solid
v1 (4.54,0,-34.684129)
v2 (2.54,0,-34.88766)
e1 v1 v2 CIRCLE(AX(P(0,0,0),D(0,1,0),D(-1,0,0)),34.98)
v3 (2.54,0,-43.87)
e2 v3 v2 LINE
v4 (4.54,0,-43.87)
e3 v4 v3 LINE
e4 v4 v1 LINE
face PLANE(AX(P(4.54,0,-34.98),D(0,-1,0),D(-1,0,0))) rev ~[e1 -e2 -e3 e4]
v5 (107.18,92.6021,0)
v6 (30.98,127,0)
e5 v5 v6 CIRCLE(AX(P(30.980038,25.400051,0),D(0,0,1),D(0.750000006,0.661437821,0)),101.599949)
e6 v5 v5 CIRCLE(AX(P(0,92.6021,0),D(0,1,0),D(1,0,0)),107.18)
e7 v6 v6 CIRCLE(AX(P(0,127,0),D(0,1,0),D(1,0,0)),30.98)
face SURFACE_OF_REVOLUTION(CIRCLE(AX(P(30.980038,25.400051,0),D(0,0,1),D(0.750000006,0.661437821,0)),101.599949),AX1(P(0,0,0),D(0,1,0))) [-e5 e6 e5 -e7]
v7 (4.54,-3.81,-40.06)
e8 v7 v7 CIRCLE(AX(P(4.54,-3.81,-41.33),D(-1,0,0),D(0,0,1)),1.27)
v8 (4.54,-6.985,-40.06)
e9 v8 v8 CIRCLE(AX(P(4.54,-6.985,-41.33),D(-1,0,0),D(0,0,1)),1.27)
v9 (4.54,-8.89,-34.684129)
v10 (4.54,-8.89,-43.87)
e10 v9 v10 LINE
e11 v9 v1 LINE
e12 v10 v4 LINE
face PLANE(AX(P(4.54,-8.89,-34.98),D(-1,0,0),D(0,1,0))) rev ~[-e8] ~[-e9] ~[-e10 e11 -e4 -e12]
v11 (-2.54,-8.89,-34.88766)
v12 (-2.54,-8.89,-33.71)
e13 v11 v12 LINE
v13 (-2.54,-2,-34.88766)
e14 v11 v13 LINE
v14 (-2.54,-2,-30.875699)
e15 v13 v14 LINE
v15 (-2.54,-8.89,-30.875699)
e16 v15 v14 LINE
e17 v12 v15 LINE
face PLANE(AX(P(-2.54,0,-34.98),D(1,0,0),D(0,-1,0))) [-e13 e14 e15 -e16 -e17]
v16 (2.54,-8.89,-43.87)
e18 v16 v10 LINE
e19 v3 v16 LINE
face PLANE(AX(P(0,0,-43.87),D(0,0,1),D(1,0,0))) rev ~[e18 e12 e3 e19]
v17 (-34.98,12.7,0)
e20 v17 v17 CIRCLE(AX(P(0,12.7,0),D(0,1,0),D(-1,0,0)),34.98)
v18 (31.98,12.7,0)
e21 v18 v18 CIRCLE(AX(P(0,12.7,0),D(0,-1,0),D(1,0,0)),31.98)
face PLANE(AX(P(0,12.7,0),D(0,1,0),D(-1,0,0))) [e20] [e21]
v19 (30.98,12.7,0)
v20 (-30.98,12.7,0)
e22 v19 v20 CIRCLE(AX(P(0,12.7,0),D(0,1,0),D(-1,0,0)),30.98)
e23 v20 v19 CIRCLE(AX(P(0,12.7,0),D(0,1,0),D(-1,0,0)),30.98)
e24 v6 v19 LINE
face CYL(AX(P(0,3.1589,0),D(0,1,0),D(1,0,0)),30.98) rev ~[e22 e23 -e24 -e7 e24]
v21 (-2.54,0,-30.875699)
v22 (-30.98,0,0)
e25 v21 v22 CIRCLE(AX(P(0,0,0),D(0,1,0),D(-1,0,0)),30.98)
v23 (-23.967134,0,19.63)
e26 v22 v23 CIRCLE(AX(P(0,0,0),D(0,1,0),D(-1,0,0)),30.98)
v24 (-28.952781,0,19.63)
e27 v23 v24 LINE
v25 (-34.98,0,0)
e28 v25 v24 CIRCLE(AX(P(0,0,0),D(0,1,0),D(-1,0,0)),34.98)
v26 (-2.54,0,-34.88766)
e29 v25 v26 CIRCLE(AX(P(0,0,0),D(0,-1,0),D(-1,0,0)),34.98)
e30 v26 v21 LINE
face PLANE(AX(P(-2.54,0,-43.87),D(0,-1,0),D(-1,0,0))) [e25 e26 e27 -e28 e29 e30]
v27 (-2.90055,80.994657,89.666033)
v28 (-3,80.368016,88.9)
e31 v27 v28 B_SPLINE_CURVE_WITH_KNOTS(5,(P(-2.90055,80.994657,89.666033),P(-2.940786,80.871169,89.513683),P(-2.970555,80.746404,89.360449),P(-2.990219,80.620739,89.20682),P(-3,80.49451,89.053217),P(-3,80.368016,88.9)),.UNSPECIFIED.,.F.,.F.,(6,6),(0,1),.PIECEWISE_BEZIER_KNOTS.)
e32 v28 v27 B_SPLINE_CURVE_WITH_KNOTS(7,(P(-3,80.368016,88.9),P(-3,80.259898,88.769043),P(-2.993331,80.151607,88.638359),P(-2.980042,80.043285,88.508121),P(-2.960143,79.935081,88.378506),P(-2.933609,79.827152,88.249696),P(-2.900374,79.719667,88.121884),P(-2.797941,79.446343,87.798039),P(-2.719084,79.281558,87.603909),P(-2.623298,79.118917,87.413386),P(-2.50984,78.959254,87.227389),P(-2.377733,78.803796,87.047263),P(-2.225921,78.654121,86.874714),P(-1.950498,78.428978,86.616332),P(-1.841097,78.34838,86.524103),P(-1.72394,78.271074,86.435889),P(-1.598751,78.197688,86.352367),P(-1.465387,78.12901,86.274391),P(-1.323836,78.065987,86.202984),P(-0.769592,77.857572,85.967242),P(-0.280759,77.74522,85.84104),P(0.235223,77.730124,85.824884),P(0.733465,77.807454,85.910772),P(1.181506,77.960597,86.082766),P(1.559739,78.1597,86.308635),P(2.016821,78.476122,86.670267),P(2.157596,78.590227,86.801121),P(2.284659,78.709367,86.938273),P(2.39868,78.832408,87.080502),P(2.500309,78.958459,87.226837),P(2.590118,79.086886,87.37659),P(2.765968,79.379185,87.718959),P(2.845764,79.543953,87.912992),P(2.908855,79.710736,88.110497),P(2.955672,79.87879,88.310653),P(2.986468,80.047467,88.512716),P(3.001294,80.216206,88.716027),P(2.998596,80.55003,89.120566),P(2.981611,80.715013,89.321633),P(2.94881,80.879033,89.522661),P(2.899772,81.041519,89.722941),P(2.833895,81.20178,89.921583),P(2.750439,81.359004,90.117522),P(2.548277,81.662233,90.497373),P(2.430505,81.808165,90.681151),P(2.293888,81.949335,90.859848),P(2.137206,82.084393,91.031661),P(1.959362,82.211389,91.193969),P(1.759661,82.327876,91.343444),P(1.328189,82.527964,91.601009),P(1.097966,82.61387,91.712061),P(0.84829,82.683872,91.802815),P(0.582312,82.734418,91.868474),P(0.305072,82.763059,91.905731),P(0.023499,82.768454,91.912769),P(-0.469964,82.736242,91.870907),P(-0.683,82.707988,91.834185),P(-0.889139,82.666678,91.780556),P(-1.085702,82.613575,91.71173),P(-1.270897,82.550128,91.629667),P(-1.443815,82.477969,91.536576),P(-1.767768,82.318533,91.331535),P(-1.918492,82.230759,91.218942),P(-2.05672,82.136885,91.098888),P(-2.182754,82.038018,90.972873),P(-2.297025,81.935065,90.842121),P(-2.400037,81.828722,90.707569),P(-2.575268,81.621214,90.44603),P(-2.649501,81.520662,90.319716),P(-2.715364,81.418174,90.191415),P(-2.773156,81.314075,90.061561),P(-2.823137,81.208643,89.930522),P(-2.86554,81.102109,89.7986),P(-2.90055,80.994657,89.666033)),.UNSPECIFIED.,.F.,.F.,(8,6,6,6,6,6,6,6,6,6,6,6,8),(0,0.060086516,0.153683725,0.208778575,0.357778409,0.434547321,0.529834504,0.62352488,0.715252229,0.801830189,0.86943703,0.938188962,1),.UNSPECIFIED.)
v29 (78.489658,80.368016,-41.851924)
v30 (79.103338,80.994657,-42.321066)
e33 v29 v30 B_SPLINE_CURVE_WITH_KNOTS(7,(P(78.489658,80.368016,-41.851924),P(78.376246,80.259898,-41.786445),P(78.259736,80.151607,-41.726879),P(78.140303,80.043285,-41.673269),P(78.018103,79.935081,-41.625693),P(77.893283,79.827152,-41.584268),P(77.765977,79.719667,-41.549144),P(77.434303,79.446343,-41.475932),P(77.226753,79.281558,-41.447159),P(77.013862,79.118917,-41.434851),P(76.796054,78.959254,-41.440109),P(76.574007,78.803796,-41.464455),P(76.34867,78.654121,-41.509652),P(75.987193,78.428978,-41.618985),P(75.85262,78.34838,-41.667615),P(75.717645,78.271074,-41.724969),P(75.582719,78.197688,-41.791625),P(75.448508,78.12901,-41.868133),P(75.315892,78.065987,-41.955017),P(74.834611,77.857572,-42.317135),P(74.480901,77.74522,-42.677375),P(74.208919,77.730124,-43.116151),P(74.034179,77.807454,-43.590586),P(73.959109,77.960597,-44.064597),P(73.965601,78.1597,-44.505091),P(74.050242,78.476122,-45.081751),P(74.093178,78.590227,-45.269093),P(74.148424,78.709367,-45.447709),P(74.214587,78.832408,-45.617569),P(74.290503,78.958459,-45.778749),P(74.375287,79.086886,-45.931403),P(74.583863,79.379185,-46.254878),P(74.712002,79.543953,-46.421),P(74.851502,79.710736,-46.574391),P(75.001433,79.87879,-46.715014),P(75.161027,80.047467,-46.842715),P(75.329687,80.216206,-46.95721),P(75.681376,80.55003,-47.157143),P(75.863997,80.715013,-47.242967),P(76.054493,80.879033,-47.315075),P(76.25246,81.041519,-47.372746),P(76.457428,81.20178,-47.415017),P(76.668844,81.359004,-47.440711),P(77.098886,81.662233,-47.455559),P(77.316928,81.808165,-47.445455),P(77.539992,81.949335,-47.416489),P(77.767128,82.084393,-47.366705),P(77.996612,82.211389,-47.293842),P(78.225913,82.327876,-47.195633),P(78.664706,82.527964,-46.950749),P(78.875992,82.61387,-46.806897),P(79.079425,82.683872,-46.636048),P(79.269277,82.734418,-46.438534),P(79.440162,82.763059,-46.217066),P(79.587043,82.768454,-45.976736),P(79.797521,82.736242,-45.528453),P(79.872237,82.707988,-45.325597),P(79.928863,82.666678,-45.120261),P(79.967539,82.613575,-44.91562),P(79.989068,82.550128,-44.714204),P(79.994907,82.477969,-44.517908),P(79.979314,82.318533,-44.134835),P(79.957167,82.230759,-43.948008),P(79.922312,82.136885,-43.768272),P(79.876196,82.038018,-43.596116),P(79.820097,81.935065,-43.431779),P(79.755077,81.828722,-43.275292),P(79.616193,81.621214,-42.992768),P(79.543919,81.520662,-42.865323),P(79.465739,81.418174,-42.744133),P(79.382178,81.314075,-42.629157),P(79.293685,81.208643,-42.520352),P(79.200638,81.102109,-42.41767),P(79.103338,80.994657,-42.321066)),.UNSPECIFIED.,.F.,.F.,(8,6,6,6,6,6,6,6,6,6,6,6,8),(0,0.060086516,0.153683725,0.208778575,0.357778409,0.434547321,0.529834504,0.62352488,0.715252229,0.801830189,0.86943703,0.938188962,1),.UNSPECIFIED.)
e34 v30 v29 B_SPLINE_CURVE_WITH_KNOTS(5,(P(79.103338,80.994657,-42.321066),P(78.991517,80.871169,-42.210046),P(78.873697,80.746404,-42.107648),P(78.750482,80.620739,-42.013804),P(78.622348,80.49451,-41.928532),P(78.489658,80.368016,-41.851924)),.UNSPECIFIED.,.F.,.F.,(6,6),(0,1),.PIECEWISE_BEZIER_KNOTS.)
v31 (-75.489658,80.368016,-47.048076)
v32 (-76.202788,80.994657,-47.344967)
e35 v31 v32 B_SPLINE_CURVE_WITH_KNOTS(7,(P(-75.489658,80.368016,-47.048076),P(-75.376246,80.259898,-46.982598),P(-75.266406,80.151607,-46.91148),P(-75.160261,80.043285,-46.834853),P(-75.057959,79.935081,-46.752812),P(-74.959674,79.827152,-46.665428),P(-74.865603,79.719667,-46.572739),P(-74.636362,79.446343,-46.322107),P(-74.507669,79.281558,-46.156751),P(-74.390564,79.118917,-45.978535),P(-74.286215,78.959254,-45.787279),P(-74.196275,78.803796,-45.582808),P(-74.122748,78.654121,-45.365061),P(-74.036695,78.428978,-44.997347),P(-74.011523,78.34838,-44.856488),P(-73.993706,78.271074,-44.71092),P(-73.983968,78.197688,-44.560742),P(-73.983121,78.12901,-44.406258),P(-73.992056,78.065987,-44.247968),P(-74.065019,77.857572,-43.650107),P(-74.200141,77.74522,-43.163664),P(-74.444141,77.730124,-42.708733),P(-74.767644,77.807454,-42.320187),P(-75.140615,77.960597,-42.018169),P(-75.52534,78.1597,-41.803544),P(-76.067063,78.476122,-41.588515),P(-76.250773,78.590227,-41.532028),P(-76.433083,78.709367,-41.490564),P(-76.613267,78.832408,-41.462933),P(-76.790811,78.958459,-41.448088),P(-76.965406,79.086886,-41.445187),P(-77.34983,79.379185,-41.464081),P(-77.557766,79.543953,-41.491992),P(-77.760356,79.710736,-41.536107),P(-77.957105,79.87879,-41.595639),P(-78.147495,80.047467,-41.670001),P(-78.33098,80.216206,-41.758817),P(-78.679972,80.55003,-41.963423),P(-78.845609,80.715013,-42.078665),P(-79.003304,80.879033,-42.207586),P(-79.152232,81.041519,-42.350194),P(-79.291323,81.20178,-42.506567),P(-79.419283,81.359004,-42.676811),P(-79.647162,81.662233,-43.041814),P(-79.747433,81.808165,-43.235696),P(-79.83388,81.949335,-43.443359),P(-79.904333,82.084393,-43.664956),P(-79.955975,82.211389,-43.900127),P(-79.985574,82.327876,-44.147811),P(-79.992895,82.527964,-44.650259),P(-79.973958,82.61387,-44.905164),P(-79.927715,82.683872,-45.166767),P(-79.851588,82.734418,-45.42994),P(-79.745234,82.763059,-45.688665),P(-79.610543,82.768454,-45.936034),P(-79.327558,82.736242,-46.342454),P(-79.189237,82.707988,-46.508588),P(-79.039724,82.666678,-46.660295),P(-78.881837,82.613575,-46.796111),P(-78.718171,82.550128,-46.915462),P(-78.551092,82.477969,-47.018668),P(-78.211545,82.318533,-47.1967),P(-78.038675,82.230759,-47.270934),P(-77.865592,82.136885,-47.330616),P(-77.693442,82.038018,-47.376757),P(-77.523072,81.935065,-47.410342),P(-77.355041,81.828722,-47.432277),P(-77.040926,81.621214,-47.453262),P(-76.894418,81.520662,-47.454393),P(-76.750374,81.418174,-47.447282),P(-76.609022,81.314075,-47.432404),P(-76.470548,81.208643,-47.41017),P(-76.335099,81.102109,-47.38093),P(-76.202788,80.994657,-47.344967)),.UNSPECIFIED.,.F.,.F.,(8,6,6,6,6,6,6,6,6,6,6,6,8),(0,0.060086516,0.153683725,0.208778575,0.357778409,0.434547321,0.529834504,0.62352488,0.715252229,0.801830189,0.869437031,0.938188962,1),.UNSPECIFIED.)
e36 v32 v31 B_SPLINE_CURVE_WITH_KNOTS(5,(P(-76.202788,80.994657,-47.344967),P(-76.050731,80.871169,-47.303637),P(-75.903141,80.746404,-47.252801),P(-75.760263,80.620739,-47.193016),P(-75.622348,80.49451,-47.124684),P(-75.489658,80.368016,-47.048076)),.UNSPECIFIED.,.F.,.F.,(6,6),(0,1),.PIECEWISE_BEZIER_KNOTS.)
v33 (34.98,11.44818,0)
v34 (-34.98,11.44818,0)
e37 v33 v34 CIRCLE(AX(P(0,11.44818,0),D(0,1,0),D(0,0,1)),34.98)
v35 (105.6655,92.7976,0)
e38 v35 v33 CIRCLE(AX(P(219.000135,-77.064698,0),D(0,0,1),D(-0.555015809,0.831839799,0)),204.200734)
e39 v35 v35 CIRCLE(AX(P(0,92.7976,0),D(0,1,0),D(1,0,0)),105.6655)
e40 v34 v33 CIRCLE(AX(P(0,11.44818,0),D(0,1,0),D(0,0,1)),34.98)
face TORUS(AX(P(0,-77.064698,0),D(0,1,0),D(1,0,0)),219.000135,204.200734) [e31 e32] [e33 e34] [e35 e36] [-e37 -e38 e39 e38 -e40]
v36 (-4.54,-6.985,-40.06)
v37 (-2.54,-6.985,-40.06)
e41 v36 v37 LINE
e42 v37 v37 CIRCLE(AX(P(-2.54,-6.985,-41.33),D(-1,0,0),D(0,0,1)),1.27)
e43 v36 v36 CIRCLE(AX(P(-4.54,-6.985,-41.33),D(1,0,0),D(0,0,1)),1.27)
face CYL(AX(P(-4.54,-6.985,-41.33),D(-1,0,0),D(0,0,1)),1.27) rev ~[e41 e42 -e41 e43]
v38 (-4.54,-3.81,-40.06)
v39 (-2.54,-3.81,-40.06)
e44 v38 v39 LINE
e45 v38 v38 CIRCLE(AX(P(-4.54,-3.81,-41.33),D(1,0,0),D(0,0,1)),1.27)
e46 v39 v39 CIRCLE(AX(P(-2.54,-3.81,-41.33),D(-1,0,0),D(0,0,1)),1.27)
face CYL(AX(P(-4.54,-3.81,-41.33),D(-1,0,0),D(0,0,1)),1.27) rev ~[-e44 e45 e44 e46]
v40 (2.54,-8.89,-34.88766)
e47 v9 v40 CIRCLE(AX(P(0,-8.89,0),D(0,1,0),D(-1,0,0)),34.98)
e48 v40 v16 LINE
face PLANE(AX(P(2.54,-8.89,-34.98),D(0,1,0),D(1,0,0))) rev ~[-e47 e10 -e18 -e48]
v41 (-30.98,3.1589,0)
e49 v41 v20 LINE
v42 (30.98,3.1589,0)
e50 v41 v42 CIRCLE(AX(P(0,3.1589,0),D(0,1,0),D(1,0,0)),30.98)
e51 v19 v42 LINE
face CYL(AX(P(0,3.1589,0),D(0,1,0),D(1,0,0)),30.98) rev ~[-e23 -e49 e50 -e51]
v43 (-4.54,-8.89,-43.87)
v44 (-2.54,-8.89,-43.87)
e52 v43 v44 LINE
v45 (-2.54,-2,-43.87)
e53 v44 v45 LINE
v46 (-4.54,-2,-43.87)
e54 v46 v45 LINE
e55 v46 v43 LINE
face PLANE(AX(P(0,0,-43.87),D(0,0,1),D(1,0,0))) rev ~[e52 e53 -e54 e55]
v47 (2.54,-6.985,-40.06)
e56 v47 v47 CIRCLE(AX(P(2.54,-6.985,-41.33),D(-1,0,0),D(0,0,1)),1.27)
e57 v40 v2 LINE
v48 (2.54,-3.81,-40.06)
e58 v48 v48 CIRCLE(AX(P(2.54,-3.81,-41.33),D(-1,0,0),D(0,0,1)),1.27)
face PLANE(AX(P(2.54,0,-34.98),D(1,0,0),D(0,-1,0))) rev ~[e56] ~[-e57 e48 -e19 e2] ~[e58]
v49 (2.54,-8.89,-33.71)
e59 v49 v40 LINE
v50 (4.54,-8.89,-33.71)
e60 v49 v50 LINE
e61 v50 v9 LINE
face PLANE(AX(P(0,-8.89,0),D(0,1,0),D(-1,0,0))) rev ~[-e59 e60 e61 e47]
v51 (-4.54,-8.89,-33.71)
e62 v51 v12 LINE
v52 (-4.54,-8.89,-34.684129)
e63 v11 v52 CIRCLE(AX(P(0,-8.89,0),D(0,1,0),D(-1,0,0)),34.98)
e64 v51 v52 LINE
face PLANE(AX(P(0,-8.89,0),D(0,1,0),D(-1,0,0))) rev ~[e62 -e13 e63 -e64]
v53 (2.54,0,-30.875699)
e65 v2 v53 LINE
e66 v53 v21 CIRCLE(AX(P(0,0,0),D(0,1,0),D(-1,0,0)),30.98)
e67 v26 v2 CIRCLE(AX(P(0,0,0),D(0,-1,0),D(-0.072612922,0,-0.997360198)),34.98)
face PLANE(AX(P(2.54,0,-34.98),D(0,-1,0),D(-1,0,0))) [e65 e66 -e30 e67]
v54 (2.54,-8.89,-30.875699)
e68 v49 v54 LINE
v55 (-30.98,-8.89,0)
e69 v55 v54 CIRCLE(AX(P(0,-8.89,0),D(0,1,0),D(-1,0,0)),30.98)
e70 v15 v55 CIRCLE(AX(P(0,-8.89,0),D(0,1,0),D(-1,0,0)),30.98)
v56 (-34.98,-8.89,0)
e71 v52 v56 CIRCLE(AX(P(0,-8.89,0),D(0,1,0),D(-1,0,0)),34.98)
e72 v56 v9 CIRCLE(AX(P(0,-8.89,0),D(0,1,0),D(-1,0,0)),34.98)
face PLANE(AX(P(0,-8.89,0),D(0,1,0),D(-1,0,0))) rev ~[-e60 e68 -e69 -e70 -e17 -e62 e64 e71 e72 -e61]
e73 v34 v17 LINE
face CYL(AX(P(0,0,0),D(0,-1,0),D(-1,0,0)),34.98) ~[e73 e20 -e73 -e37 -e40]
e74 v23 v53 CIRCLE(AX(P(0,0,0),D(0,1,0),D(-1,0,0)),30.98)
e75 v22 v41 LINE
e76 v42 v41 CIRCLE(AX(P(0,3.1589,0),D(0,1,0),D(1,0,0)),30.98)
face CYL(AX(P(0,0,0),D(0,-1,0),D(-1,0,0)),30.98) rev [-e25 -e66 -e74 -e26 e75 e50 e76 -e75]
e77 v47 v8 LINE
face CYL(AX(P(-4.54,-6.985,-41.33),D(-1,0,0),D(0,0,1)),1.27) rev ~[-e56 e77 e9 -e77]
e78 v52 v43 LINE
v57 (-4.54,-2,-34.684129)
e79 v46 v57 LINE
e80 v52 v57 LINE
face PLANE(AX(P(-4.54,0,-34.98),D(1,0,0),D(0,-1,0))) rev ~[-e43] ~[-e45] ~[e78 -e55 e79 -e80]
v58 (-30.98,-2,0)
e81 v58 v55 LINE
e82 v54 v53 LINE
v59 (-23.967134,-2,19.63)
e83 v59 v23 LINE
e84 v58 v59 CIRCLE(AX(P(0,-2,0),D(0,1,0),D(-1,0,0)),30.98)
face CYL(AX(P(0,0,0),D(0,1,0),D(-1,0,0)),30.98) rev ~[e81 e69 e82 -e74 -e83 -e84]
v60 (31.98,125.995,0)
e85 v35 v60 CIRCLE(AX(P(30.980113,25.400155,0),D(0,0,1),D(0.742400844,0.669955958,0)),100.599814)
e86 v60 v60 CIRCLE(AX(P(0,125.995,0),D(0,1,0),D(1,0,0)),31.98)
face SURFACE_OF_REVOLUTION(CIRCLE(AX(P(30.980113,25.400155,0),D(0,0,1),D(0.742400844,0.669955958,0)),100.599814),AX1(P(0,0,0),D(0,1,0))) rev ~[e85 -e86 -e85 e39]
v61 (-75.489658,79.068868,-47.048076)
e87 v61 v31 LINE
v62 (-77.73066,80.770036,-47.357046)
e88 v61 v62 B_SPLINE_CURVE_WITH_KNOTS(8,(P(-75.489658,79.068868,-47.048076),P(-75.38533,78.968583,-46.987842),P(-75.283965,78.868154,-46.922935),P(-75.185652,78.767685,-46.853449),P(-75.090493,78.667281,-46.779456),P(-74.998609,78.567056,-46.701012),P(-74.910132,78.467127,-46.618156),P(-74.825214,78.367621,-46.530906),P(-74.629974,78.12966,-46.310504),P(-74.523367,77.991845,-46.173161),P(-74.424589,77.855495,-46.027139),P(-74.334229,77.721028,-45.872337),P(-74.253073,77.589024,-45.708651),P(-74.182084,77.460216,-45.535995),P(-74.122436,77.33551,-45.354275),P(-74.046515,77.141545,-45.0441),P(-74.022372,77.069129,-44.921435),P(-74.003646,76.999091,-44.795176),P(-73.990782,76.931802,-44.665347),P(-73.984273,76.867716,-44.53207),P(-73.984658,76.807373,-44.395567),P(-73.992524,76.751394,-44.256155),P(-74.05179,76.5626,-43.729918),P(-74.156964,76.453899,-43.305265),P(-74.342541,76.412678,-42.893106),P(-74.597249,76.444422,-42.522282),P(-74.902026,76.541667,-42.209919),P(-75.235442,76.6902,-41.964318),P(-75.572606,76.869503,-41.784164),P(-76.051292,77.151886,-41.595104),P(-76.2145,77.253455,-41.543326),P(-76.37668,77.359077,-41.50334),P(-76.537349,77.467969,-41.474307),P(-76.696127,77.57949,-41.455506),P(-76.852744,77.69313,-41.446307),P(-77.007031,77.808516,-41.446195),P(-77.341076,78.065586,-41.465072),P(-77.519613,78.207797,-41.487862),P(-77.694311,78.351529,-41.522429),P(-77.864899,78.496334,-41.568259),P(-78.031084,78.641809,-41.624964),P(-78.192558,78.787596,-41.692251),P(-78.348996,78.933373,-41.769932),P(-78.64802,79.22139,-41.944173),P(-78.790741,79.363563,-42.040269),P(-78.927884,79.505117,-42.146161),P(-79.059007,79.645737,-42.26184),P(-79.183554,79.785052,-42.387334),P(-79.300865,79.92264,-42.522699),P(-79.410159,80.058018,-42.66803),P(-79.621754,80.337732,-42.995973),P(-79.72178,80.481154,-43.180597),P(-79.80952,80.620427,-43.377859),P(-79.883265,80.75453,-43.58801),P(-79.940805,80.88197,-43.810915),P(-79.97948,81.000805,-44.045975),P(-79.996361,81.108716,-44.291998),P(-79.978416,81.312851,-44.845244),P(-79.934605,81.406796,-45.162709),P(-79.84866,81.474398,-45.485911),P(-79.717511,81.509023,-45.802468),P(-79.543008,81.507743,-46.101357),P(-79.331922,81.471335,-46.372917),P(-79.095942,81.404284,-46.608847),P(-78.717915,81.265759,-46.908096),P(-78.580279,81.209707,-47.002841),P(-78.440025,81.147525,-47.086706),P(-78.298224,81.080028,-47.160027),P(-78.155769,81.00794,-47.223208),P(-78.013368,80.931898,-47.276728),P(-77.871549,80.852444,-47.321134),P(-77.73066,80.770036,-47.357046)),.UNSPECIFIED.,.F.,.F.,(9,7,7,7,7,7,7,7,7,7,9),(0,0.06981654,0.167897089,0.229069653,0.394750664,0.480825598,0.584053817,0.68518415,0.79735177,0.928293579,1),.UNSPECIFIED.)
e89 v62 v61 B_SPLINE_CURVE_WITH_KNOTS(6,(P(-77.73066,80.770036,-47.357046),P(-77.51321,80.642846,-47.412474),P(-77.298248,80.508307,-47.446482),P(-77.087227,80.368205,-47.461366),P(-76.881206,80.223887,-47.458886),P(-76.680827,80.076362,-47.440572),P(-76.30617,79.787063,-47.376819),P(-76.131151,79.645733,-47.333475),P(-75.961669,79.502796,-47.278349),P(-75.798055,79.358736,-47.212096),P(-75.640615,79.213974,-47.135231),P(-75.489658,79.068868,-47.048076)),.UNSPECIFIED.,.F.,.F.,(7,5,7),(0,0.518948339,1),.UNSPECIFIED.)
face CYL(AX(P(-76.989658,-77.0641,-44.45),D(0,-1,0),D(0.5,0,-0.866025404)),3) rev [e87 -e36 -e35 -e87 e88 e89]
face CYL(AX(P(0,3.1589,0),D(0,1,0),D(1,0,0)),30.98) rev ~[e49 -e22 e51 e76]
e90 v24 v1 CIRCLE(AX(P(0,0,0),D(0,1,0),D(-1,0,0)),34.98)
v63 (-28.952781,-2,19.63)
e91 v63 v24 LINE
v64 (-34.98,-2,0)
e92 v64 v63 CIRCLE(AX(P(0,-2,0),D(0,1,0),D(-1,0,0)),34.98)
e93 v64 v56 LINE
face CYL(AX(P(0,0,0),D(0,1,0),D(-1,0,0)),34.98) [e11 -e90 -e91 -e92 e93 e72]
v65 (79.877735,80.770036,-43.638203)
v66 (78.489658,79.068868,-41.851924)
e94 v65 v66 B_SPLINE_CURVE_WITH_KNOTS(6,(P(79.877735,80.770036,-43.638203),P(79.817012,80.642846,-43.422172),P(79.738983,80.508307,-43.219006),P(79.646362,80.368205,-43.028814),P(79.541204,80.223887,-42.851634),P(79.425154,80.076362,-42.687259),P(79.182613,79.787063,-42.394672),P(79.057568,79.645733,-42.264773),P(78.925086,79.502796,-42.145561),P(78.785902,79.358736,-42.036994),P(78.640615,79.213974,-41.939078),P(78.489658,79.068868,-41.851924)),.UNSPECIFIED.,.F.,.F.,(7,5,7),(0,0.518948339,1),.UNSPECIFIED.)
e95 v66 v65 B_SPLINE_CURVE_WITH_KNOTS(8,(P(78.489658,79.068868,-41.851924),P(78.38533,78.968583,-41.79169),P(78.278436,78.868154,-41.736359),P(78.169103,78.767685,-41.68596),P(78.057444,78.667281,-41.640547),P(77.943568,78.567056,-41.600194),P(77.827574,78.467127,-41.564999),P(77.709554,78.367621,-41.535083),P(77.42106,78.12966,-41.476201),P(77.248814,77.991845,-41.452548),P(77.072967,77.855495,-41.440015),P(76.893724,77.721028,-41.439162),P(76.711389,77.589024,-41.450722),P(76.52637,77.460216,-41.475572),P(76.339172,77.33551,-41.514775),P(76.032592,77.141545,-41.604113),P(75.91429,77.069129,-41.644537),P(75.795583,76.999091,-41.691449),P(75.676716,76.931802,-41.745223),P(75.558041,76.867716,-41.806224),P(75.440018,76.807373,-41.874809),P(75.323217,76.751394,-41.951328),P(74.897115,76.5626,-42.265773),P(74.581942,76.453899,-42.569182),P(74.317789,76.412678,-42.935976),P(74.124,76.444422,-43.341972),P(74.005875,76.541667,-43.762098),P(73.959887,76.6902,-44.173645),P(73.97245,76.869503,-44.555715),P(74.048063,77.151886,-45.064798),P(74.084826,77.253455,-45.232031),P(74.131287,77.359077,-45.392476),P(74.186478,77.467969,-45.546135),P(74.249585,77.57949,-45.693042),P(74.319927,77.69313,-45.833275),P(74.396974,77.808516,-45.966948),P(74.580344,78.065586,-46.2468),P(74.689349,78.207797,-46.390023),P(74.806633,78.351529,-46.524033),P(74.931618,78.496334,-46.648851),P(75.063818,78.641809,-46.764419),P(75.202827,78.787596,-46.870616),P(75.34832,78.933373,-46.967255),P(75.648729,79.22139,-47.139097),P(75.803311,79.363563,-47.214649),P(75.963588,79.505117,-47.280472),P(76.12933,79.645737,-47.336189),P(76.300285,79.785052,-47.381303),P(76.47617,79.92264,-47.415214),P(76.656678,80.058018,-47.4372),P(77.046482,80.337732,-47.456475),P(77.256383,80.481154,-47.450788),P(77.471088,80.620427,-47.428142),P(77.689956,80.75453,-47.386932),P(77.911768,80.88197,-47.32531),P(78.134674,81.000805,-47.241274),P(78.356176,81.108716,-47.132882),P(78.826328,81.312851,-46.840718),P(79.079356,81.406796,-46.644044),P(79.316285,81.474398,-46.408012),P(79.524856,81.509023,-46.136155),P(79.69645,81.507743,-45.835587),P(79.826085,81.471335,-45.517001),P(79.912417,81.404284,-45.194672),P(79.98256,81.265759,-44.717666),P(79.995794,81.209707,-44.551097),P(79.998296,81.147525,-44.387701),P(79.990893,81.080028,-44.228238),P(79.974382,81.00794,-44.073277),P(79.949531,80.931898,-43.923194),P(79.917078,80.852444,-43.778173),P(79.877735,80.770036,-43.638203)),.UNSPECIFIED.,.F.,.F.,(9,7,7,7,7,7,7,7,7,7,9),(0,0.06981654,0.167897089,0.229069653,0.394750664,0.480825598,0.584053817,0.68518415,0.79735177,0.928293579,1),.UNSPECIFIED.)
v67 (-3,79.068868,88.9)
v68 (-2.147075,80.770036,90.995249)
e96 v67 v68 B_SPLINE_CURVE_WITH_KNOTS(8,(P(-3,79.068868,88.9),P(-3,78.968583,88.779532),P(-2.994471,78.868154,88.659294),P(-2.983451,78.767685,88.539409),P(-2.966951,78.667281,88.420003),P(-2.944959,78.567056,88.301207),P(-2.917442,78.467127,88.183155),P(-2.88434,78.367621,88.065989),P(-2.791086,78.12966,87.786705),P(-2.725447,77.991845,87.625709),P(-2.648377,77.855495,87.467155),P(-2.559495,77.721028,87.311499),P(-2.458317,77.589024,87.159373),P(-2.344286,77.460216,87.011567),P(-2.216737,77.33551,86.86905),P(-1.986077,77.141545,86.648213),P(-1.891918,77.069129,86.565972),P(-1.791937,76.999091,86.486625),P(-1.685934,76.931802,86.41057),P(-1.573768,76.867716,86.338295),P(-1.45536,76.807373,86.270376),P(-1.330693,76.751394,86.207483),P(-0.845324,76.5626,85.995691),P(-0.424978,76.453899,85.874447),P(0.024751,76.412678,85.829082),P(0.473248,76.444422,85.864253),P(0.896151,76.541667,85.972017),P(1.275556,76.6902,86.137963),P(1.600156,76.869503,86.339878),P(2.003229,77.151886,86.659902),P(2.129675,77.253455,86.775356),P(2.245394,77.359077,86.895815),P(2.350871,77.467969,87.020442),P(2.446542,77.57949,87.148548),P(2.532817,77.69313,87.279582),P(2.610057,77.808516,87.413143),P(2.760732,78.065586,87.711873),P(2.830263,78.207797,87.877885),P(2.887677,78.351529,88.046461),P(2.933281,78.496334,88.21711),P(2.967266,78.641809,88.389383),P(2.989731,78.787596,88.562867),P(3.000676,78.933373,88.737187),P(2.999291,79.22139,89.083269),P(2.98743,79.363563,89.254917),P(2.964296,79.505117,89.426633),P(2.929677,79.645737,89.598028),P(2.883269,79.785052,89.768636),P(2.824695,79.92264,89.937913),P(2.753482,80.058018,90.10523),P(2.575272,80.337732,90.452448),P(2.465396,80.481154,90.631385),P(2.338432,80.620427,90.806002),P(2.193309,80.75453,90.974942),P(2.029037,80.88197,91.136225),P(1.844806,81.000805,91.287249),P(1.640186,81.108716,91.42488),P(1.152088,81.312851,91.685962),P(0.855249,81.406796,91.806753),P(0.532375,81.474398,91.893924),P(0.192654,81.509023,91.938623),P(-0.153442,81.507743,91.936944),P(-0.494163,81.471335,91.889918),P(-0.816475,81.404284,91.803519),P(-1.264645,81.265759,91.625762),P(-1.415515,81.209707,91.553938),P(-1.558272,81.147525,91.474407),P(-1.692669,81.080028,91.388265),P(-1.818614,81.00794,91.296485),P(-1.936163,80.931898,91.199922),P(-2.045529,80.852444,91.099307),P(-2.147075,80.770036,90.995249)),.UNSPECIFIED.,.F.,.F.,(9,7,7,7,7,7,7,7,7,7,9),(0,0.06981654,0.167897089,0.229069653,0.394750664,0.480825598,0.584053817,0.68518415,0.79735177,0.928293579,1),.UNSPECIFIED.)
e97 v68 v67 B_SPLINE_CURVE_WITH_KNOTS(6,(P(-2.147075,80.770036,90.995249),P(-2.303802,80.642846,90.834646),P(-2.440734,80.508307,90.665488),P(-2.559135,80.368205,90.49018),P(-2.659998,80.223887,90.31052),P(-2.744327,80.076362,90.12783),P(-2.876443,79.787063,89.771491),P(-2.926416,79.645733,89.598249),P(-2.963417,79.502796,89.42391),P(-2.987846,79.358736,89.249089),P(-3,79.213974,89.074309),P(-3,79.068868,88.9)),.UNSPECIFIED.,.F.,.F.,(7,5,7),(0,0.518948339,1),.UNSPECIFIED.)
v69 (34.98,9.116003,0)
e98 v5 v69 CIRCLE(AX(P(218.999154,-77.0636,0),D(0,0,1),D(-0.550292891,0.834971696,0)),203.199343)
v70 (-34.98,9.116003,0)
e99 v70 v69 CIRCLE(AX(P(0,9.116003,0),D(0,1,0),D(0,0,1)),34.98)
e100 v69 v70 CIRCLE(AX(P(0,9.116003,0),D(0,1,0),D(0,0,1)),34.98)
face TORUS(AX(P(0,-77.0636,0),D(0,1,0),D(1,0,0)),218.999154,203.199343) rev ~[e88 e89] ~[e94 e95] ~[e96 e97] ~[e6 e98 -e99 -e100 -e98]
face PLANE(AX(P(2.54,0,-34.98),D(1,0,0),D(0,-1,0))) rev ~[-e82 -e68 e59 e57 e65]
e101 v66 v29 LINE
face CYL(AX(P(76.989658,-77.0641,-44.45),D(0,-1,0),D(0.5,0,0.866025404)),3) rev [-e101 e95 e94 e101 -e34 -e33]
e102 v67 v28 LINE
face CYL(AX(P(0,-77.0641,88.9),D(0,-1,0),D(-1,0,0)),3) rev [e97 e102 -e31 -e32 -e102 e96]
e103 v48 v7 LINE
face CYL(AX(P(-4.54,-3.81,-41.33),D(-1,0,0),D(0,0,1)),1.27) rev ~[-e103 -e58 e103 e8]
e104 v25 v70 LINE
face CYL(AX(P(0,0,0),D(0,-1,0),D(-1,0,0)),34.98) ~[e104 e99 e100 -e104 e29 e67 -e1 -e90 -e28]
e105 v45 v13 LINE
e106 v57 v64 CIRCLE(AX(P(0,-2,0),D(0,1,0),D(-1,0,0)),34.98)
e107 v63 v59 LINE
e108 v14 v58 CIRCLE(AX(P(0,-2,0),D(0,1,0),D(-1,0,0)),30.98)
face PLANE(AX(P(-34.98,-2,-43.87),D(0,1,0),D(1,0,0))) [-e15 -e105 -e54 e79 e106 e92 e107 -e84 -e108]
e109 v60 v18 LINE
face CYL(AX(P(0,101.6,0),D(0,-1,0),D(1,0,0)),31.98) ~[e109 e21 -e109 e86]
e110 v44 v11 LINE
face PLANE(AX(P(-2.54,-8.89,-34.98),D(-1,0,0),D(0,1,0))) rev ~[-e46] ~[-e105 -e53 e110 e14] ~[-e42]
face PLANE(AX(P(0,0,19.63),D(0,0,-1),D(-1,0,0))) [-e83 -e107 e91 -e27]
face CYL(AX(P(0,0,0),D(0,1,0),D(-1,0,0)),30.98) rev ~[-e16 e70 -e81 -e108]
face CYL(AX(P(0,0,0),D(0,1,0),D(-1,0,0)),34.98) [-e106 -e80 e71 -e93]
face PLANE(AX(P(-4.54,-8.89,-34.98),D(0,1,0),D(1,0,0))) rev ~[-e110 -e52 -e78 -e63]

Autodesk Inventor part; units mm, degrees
ref_plane "YZ Plane" through (0, 0, 0) normal (1, 0, 0) x (0, 1, 0)
sketch "Sketch2" plane through (0, 0, 0) normal (0, 0, 1) x (1, 0, 0)
  line L0 (0, 0) -> (0, 152.4)
  line L1 (30.98, 3.1589) -> (30.98, 101.6)
  arc A0 (107.18, 92.6021) -> (32.1988, 2.9089) centre (218.9996, -77.0641) ccw
  arc A1 (30.98, 3.1589) -> (32.1988, 2.9089) centre (31.615, 3.1589) ccw
  line L2 (30.98, 101.6) -> (30.98, 127)
  arc A2 (107.18, 92.6021) -> (30.98, 127) centre (30.98, 25.4) ccw
  line L3 (30.98, 127) -> (25.9, 127)
  line L4 (31.98, 125.995) -> (31.98, 101.6)
  line L5 (31.98, 101.6) -> (31.98, 4.9195)
  arc A3 (105.6655, 92.7976) -> (31.98, 4.9195) centre (218.9996, -77.0641) ccw
  arc A4 (105.6655, 92.7976) -> (31.98, 125.995) centre (30.98, 25.4) ccw
  point P0 (30.98, 0)
  point P1 (43.68, 0)
  point P2 (119.8707, 100.316)
  dimension "d0" = 30.98
  dimension "d1" = 101.6
  dimension "d2" = 152.4
  dimension "d76" = 88.9
  dimension "d77" = 203.2
  dimension "d80" = 0.635
  dimension "d91" = 25.4
  dimension "d92" = 101.6
  dimension "d93" = 76.2
  dimension "d94" = 5.08
  dimension "d95" = 0
  dimension "d96" = 1
revolve "Revolution1" add sketch "Sketch2" angle 360 about axis through (0, 0, 0) along (0, 1, 0)
ref_plane "Work Plane1" through (0, -77.0641, 0) normal (0, 1, 0) x (-1, 0, 0)
sketch "Sketch4" plane through (0, -77.0641, 0) normal (0, 1, 0) x (-1, 0, 0)
  circle A0 centre (0, 88.9) radius 3
  line L0 (0, 0) -> (0, 115.8951)
  dimension "d19" = 6
  dimension "d20" = 88.9
extrude "Extrusion1" cut sketch "Sketch4" along normal blind 174.625
pattern_circular "Circular Pattern1" count 3 over 360 about axis through (0, 65.0794, 0) along (0, 1, 0) of "Extrusion1"
sketch "Sketch11" plane through (0, 0, 0) normal (0, 1, 0) x (-1, 0, 0)
  circle A0 centre (0, 0) radius 34.98
  circle A1 centre (0, 0) radius 30.98
  circle A2 centre (0, 0) radius 30.98 projected
  dimension "d83" = 0
  dimension "d84" = 4
extrude "Extrusion7" add sketch "Sketch11" along normal blind 12.7 and the other way blind 8.89
ref_plane "Work Plane3" through (0, 0, -34.98) normal (0, 0, 1) x (1, 0, 0)
sketch "Sketch12" plane through (0, 0, -34.98) normal (0, 0, 1) x (1, 0, 0)
  line L0 (4.54, 0) -> (2.54, 0)
  line L1 (2.54, 0) -> (2.54, -8.89)
  line L2 (2.54, -8.89) -> (4.54, -8.89)
  line L3 (4.54, -8.89) -> (4.54, 0)
  line L4 (-2.54, 0) -> (-4.54, 0)
  line L5 (-4.54, 0) -> (-4.54, -8.89)
  line L6 (-4.54, -8.89) -> (-2.54, -8.89)
  line L7 (-2.54, -8.89) -> (-2.54, 0)
  line L8 (0, -8.89) -> (0, 0)
  line L9 (-34.98, -8.89) -> (34.98, -8.89) projected
  dimension "d56" = 8.89
  dimension "d57" = 2
  dimension "d58" = 2.54
  dimension "d85" = 0
extrude "Extrusion8" add sketch "Sketch12" along normal blind 1.27 and the other way blind 8.89
sketch "Sketch13" plane through (0, 0, -34.98) normal (0, 0, 1) x (1, 0, 0)
  line L0 (2.54, 0) -> (2.54, -8.89) projected
  line L1 (-2.54, -8.89) -> (2.54, -8.89) projected
  line L2 (2.54, 0) -> (-2.54, 0)
  line L3 (-2.54, 0) -> (-2.54, -8.89)
  line L4 (-2.54, -8.89) -> (2.54, -8.89)
  line L5 (2.54, -8.89) -> (2.54, 0)
  point P0 (0, 0)
extrude "Extrusion9" cut sketch "Sketch13" along normal up to surface
sketch "Sketch15" plane through (0, 0, -43.87) normal (0, 0, -1) x (-1, 0, 0)
  line L0 (2.54, -8.89) -> (2.54, 0) projected
  line L1 (34.98, -8.89) -> (34.98, 9.1161) projected
  line L2 (2.54, 0) -> (34.98, 0)
  line L3 (34.98, 0) -> (34.98, -2)
  line L4 (34.98, -2) -> (2.54, -2)
  line L5 (2.54, -2) -> (2.54, 0)
  point P0 (0, 0)
  dimension "d89" = 2
extrude "Extrusion10" cut sketch "Sketch15" against normal blind 63.5
sketch "Sketch16" plane through (-4.54, 0, -43.87) normal (-1, 0, 0) x (0, 0, 1)
  line L0 (2.54, -8.89) -> (2.54, 0)
  line L1 (0, -8.89) -> (0, 0) projected
  circle A0 centre (2.54, -3.81) radius 1.27
  circle A1 centre (2.54, -6.985) radius 1.27
  line L2 (9.1859, 0) -> (0, 0) projected
  line L3 (0, -8.89) -> (9.1859, -8.89) projected
  point P0 (43.87, 0)
  dimension "d68" = 2.54
  dimension "d69" = 2.54
  dimension "d70" = 2.54
  dimension "d71" = 3.81
  dimension "d90" = 1.905
extrude "Extrusion11" cut sketch "Sketch16" against normal up to surface (9.08 mm away) contours A1 L0 | L0 A1 | A0 L0 | L0 A0
properties part number "Water Sensor Bouy 3_3DPrint"
